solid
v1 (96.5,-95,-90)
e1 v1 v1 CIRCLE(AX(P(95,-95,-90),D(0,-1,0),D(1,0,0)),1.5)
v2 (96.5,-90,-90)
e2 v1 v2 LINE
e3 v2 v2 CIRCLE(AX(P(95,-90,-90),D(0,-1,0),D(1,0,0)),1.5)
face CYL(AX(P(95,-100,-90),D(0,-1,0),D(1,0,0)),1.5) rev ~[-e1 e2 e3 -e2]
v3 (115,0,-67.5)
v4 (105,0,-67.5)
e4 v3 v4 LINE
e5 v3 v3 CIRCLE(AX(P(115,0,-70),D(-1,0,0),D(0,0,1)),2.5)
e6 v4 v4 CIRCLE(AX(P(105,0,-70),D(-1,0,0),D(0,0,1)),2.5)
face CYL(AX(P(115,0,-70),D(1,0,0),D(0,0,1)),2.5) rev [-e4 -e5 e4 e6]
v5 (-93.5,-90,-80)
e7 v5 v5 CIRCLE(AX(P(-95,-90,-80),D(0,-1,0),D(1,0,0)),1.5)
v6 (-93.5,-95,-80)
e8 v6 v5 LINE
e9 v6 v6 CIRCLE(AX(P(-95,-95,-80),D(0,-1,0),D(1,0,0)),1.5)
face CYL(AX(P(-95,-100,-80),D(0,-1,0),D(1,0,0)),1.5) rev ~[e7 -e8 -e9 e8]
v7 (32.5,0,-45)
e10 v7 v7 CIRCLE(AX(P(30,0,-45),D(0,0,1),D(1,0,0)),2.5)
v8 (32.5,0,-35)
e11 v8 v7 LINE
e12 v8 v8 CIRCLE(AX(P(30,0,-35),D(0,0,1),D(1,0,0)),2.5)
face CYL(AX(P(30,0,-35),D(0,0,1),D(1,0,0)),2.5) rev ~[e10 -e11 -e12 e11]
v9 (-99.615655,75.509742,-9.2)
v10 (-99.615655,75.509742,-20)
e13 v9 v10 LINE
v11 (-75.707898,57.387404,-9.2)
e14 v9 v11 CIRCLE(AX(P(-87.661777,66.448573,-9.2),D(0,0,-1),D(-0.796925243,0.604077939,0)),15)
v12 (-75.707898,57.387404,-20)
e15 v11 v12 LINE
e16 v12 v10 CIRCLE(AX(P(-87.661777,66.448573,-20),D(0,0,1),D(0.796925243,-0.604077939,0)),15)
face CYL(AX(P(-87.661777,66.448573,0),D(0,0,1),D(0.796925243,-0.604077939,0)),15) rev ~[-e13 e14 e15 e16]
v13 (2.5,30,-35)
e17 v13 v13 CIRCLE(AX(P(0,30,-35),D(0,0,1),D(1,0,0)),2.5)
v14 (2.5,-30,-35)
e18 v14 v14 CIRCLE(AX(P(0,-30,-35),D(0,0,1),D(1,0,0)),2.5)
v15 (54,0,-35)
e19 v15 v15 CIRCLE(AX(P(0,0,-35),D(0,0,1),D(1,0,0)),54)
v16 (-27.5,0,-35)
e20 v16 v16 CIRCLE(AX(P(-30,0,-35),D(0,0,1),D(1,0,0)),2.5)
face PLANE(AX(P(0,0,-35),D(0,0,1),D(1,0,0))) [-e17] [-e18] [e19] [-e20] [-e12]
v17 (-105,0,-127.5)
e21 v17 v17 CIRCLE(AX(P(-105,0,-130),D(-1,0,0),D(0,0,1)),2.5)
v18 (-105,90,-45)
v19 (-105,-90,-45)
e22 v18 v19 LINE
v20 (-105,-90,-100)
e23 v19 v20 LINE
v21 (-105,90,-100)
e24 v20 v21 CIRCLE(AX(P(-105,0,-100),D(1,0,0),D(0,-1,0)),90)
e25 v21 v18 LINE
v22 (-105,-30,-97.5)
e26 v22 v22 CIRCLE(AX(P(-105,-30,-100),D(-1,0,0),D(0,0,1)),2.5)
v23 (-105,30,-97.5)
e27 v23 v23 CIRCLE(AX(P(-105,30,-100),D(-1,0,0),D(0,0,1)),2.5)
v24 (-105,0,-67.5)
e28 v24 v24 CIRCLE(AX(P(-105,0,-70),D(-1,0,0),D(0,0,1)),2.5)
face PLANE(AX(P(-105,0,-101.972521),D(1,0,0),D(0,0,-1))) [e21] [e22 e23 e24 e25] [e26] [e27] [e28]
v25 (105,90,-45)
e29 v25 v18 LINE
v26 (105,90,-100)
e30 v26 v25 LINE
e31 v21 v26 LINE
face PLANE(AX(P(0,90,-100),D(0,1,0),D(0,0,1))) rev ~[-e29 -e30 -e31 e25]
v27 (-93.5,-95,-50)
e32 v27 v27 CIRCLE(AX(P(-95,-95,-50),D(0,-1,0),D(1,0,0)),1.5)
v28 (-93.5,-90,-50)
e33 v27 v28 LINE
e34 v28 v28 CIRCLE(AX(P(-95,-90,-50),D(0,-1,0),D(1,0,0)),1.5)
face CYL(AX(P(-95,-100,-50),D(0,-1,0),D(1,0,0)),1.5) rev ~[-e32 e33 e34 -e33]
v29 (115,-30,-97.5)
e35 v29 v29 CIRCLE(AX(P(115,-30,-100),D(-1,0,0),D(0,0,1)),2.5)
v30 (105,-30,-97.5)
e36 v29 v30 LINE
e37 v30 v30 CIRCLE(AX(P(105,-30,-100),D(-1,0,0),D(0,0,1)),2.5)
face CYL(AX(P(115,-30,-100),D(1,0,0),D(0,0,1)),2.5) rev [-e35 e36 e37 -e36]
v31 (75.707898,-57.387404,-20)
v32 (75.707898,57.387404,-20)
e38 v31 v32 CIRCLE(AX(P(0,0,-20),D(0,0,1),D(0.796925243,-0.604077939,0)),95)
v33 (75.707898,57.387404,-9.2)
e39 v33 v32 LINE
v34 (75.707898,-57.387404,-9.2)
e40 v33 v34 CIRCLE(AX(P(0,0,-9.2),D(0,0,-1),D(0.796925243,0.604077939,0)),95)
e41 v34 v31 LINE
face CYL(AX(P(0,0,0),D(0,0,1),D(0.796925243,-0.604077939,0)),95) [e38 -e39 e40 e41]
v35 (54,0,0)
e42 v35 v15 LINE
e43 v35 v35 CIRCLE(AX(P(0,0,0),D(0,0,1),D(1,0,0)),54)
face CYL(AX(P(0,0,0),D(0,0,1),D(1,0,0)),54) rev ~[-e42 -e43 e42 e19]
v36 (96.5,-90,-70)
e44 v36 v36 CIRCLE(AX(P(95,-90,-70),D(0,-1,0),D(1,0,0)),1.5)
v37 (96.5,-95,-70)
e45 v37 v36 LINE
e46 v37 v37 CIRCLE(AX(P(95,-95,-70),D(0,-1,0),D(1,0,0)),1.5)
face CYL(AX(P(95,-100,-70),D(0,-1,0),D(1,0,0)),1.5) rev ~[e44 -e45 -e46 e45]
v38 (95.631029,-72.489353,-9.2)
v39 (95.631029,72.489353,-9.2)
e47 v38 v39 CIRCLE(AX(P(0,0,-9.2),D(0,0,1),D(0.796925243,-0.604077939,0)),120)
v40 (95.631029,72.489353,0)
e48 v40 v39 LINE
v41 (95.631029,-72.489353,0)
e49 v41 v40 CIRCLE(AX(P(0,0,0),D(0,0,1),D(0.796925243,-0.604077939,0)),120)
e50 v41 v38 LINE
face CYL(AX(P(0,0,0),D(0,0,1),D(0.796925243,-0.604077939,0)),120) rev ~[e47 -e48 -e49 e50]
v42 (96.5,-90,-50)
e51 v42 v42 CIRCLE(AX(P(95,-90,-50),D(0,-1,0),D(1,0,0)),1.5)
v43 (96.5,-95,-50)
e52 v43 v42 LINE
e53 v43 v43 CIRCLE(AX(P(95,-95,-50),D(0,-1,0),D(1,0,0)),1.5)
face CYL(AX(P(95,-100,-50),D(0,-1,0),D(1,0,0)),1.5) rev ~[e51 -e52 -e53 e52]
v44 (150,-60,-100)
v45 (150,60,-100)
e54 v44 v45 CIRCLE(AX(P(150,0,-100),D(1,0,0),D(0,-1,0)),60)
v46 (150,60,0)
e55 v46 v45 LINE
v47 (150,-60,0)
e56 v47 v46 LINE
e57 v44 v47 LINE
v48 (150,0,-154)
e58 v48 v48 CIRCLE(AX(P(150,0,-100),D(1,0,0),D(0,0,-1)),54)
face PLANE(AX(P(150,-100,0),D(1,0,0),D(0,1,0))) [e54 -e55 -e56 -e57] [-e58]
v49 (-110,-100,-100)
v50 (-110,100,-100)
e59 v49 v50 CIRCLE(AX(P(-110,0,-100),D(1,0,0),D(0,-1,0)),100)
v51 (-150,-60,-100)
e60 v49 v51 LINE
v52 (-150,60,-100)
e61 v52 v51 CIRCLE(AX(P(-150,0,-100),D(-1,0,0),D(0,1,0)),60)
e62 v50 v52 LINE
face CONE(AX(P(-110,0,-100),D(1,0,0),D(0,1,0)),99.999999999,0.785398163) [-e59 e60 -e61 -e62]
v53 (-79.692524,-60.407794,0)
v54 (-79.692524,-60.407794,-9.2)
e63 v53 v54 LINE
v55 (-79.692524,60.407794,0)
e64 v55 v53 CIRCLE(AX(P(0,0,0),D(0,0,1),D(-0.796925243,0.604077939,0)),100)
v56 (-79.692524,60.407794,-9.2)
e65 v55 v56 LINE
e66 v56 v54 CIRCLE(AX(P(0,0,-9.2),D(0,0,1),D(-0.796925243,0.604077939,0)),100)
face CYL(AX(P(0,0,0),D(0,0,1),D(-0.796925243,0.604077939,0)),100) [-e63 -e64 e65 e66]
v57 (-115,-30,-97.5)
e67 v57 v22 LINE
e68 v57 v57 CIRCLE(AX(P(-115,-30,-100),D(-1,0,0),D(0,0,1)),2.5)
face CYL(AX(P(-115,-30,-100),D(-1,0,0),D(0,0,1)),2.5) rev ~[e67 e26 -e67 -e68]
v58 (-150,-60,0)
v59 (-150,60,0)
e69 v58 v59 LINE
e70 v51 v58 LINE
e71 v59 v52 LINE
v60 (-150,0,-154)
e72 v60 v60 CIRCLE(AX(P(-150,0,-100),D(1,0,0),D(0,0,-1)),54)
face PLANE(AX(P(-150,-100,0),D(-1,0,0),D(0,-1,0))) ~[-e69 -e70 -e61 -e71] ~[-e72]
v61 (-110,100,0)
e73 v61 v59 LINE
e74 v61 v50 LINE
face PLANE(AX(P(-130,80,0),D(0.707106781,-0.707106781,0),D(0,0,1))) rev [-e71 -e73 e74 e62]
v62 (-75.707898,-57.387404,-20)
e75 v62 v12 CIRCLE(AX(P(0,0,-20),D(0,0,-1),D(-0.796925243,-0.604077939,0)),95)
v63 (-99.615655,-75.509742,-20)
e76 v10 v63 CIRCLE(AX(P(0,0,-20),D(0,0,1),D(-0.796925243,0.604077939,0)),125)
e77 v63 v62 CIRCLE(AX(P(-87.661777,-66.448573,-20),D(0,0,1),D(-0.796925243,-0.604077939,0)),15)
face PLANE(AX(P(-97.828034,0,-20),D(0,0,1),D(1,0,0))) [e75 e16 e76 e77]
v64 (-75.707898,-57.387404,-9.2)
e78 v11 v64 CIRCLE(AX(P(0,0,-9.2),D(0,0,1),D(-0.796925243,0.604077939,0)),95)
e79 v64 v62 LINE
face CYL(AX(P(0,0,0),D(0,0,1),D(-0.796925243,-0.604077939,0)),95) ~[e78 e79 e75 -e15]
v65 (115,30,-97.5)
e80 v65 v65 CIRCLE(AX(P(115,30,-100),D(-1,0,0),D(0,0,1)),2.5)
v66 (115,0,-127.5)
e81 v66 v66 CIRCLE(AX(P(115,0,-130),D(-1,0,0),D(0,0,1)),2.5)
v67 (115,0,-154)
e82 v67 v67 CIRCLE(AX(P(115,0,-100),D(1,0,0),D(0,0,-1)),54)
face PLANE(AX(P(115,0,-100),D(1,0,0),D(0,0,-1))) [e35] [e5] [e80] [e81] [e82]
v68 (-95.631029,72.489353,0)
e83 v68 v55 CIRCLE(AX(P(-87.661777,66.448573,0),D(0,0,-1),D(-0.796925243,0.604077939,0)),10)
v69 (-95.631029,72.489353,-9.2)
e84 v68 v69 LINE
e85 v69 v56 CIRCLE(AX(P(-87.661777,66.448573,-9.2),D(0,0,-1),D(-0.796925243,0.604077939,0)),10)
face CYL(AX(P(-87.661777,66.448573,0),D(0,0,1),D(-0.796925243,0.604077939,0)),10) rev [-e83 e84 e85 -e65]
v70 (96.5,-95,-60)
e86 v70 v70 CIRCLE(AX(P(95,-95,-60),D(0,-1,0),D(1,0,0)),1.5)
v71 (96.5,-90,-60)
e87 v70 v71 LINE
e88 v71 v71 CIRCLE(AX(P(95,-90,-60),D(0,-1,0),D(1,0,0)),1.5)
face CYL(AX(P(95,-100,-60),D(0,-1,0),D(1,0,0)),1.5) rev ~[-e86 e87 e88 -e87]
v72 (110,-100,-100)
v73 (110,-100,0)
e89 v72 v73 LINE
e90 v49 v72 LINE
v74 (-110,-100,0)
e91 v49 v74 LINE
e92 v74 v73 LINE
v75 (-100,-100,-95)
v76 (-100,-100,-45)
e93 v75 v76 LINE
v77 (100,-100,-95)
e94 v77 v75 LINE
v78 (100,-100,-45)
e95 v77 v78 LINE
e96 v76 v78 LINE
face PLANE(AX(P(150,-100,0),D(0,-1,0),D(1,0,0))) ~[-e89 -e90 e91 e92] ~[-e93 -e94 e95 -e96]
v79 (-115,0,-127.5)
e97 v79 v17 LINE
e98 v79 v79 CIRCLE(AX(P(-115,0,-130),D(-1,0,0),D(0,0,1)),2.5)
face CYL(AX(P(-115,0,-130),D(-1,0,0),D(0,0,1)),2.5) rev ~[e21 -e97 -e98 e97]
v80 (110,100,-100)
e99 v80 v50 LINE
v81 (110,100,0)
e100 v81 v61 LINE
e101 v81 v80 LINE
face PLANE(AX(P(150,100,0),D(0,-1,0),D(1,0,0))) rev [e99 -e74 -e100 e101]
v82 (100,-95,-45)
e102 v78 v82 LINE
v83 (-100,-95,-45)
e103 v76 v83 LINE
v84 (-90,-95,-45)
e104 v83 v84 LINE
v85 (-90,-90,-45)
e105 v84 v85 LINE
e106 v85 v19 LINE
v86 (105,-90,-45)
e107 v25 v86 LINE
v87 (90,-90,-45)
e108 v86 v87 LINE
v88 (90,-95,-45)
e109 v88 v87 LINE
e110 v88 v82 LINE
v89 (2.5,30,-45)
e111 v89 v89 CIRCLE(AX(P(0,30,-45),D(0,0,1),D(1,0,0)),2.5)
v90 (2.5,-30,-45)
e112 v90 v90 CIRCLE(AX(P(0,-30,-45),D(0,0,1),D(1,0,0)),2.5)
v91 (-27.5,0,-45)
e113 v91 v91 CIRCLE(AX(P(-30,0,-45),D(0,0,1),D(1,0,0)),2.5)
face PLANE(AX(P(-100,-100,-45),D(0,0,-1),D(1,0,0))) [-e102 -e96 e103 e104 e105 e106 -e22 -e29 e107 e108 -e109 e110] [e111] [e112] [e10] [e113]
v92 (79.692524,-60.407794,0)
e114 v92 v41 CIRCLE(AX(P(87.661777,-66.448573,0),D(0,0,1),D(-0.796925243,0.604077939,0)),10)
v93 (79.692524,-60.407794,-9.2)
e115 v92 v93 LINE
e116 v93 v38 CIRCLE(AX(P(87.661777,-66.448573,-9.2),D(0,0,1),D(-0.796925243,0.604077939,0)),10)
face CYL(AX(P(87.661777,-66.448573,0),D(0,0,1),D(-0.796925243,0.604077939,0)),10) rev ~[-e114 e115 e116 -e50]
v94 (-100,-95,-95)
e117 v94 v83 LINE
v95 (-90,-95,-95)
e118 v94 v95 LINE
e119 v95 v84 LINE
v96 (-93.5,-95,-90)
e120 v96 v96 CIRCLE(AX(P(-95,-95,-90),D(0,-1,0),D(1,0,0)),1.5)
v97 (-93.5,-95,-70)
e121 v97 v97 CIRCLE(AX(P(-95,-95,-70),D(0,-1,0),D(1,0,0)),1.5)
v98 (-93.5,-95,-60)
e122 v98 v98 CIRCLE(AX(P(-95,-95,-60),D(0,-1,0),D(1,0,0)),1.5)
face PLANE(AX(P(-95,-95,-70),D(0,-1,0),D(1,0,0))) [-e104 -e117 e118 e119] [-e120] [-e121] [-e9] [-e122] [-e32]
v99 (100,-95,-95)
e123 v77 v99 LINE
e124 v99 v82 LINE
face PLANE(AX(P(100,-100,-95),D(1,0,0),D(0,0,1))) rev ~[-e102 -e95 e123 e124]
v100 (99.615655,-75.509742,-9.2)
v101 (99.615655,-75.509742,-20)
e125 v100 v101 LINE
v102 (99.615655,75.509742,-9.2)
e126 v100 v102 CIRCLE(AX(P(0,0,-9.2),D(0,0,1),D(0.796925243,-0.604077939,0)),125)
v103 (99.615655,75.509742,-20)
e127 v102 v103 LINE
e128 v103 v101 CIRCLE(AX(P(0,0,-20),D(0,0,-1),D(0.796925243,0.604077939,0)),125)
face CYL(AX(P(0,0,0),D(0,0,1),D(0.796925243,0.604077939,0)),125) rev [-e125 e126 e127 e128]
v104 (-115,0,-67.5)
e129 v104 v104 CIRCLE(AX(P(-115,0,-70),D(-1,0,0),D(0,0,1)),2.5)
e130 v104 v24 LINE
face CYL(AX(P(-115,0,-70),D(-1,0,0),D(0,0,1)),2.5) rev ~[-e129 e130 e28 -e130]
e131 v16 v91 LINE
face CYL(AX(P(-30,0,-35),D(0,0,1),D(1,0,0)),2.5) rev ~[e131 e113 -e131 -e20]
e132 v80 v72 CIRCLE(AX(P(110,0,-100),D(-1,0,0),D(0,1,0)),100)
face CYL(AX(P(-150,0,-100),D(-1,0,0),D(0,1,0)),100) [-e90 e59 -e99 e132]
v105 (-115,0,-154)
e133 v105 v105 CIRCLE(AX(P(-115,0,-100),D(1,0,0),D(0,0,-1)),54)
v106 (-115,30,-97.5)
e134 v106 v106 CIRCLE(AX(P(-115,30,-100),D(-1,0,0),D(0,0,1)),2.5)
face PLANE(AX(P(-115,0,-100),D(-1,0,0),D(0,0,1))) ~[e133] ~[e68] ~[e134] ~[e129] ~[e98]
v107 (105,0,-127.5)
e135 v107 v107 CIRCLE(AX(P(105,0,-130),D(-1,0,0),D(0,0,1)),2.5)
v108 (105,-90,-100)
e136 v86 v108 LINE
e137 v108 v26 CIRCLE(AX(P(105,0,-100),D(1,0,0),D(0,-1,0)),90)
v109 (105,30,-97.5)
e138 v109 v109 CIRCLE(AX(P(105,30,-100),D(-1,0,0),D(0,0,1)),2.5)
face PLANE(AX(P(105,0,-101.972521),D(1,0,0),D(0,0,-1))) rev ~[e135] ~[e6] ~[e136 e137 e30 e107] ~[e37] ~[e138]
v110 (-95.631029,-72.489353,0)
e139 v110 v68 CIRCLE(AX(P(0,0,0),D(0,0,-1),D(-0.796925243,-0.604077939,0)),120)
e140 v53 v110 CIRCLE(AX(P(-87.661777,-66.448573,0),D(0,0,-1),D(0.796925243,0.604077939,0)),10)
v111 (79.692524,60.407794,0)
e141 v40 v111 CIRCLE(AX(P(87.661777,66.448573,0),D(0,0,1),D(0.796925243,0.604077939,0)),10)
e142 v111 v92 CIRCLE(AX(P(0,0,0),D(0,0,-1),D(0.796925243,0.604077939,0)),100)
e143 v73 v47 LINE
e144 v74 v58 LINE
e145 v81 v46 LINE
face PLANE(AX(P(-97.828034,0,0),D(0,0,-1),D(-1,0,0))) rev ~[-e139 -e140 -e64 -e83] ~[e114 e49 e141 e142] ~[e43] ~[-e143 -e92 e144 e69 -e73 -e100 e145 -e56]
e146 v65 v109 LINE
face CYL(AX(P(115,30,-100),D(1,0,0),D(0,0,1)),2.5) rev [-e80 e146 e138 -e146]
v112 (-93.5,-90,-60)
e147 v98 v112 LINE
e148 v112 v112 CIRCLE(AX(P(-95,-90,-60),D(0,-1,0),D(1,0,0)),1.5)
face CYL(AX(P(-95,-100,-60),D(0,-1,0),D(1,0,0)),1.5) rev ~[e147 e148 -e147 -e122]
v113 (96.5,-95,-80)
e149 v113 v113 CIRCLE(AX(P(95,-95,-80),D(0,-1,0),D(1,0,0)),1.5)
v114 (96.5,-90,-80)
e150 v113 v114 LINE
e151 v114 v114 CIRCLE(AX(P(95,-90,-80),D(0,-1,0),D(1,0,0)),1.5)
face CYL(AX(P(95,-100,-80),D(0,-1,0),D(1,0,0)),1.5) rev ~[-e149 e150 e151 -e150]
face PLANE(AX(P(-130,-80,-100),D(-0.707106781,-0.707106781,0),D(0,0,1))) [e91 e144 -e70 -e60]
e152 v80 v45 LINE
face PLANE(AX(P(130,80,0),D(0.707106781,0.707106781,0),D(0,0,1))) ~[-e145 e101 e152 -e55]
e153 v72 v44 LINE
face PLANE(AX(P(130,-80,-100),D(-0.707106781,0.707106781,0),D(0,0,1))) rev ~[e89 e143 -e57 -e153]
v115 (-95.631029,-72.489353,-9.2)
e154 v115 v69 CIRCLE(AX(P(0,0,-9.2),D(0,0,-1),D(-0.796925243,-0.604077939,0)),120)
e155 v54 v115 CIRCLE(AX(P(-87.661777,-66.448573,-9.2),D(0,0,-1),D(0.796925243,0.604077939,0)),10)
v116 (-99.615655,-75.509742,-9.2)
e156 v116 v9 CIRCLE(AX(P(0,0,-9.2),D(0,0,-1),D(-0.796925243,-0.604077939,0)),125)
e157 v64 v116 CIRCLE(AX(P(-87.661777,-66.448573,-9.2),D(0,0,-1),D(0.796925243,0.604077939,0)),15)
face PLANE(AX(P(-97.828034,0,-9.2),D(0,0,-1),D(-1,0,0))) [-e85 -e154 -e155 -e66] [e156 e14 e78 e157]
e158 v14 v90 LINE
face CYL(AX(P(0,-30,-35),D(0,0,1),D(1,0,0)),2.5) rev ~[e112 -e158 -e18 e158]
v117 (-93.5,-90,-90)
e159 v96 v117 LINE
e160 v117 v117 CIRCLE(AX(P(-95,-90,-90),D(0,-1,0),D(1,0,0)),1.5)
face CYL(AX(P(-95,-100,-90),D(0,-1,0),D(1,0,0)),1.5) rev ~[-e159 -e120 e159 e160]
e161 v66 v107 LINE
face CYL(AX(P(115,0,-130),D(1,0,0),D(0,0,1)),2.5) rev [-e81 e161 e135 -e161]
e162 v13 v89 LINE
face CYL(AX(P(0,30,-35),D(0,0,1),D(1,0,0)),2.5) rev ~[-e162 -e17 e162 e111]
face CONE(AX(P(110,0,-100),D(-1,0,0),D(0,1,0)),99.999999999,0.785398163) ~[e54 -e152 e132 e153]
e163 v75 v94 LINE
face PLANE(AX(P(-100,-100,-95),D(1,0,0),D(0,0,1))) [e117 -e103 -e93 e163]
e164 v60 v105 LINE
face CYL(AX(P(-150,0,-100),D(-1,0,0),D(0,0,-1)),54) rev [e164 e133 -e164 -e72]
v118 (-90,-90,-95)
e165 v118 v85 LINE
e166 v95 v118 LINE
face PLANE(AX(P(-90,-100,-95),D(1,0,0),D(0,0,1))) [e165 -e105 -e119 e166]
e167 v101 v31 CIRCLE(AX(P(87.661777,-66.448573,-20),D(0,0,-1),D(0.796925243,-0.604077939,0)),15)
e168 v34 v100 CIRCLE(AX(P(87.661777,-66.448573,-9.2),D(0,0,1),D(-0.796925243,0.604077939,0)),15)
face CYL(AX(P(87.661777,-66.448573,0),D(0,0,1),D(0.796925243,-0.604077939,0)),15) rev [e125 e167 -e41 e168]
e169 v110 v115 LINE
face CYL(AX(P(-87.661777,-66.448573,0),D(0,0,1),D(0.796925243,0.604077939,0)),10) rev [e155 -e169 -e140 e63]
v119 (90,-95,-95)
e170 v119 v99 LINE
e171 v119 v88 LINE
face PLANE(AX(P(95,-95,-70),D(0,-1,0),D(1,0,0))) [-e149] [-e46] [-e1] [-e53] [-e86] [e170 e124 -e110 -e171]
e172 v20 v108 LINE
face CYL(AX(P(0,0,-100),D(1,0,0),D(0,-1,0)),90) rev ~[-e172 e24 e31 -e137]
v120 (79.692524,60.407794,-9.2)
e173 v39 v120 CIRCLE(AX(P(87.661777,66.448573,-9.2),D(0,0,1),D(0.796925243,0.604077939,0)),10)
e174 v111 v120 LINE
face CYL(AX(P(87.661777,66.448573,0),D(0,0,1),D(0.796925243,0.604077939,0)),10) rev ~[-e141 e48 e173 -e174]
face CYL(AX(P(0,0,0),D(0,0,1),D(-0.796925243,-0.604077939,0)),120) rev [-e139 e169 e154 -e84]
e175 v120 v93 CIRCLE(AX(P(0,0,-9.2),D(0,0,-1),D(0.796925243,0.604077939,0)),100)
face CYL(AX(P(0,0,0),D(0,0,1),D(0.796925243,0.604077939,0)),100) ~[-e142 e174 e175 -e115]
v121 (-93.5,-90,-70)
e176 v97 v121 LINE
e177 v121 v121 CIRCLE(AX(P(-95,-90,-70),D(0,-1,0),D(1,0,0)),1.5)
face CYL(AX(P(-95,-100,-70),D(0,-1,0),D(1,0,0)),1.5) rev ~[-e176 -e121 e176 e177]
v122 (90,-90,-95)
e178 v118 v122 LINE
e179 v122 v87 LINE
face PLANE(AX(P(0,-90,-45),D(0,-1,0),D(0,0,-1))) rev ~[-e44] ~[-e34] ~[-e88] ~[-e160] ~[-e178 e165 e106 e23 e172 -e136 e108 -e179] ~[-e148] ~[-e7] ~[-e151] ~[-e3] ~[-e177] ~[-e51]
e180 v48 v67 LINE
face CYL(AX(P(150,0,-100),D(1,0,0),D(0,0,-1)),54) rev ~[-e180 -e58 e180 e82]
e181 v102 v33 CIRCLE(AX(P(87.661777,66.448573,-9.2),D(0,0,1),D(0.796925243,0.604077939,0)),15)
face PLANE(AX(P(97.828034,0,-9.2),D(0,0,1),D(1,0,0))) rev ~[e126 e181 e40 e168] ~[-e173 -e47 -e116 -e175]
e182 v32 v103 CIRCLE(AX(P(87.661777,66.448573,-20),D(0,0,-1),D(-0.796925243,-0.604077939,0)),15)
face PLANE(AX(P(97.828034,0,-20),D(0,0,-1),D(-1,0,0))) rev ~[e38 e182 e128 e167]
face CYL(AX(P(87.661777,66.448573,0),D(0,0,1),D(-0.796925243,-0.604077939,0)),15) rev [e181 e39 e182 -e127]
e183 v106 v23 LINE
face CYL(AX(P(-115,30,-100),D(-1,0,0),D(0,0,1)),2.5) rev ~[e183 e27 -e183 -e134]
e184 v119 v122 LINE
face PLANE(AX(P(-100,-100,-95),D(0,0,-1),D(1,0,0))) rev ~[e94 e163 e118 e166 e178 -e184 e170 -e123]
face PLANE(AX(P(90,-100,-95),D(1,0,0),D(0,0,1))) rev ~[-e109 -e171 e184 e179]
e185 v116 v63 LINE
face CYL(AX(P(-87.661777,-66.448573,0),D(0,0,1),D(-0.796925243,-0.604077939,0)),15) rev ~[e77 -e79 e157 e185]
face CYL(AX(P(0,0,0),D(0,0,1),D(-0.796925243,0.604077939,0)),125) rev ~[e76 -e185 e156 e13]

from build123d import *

# Parameters (mm, degrees)
SKETCH1_W           = 300
SKETCH1_H           = 200
BOSS_EXTRUDE1_DEPTH = 200
CUT_EXTRUDE1_DEPTH  = 375.165738677
SKETCH3_R           = 54
CUT_EXTRUDE2_DEPTH  = 35
CUT_EXTRUDE4_START  = -150
CUT_EXTRUDE4_DEPTH  = 150
CUT_EXTRUDE5_DEPTH  = 20
BOSS_EXTRUDE3_DEPTH = 9.2
SKETCH11_R          = 54
CUT_EXTRUDE6_DEPTH  = 35
CHAMFER1_SIZE       = 40
SKETCH13_R          = 2.5
CUT_EXTRUDE7_DEPTH  = 10
SKETCH14_R          = 2.5
CUT_EXTRUDE8_DEPTH  = 10
CUT_EXTRUDE9_DEPTH  = 105
SKETCH16_W          = 180
SKETCH16_H          = 50
CUT_EXTRUDE10_DEPTH = 15
SKETCH17_W          = 10
SKETCH17_H          = 50
CUT_EXTRUDE11_DEPTH = 5
SKETCH17_3_R        = 1.5
CUT_EXTRUDE12_DEPTH = 10


with BuildPart() as part:
    # Sketch1 → Boss-Extrude1 (new body)
    with BuildSketch(Plane.XY):
        Rectangle(SKETCH1_W, SKETCH1_H)
    extrude(amount=-BOSS_EXTRUDE1_DEPTH)

    # Sketch2 → Cut-Extrude1 (cut, through all)
    with BuildSketch(Plane(origin=(150, 0, 0), x_dir=(0, 0, -1), z_dir=(1, 0, 0))):
        with BuildLine():
            Line((200, -100), (200, 1.347e-06))
            ThreePointArc((200, 1.347e-06), (170.710678595, -70.710677643), (100, -100))
            Line((100, -100), (200, -100))
        make_face()
        with BuildLine():
            Line((200, 100), (100, 100))
            ThreePointArc((100, 100), (170.710677643, 70.710678595), (200, 1.347e-06))
            Line((200, 1.347e-06), (200, 100))
        make_face()
    extrude(amount=-CUT_EXTRUDE1_DEPTH, mode=Mode.SUBTRACT)

    # Sketch3 → Cut-Extrude2 (cut)
    with BuildSketch(Plane(origin=(150, 0, 0), x_dir=(0, 0, -1), z_dir=(1, 0, 0))):
        with Locations((100, 0)):
            Circle(SKETCH3_R)
    extrude(amount=-CUT_EXTRUDE2_DEPTH, mode=Mode.SUBTRACT)

    # Sketch6 → Cut-Extrude4 (cut)
    with BuildSketch(Plane.ZY.offset(150).offset(CUT_EXTRUDE4_START)):
        with BuildLine():
            Line((0, 100), (0, -100))
            Line((0, -100), (-100, -100))
            ThreePointArc((-100, -100), (-200, 0), (-100, 100))
            Line((-100, 100), (0, 100))
        make_face()
    extrude(amount=CUT_EXTRUDE4_DEPTH, mode=Mode.SUBTRACT)

    # Mirror1: part across plane


with BuildPart() as part_1:
    add(part.part)
    add(part.part.mirror(Plane(origin=(0, 0, -100), x_dir=(0, 0, 1), z_dir=(1, 0, 0))))

    # Sketch7 → Cut-Extrude5 (cut)
    with BuildSketch(Plane.XY):
        with BuildLine():
            ThreePointArc((-99.615655403, 75.509742408), (-125, 0), (-99.615655403, -75.509742408))
            ThreePointArc((-99.615655403, -75.509742408), (-78.600607666, -78.402451968), (-75.707898107, -57.38740423))
            ThreePointArc((-75.707898107, -57.38740423), (-95, 0), (-75.707898107, 57.38740423))
            ThreePointArc((-75.707898107, 57.38740423), (-78.600607666, 78.402451968), (-99.615655403, 75.509742408))
        make_face()
        with BuildLine():
            ThreePointArc((75.707898107, 57.38740423), (78.600607666, 78.402451968), (99.615655403, 75.509742408))
            ThreePointArc((99.615655403, 75.509742408), (125, 0), (99.615655403, -75.509742408))
            ThreePointArc((99.615655403, -75.509742408), (78.600607666, -78.402451968), (75.707898107, -57.38740423))
            ThreePointArc((75.707898107, -57.38740423), (95, 0), (75.707898107, 57.38740423))
        make_face()
    extrude(amount=-CUT_EXTRUDE5_DEPTH, mode=Mode.SUBTRACT)

    # Sketch10 → Boss-Extrude3 (add)
    # profile 1 of 2: a face of its own
    with BuildSketch(Plane.XY):
        with BuildLine():
            ThreePointArc((-75.707898107, 57.38740423), (-95, 0), (-75.707898107, -57.38740423))
            ThreePointArc((-75.707898107, -57.38740423), (-78.600607666, -78.402451968), (-99.615655403, -75.509742408))
            ThreePointArc((-99.615655403, -75.509742408), (-125, 0), (-99.615655403, 75.509742408))
            ThreePointArc((-99.615655403, 75.509742408), (-78.600607666, 78.402451968), (-75.707898107, 57.38740423))
        make_face()
        with BuildLine():
            ThreePointArc((-79.692524323, 60.407793927), (-100, 0), (-79.692524323, -60.407793927))
            ThreePointArc((-79.692524323, -60.407793927), (-81.620997362, -74.417825752), (-95.631029187, -72.489352712))
            ThreePointArc((-95.631029187, -72.489352712), (-120, 0), (-95.631029187, 72.489352712))
            ThreePointArc((-95.631029187, 72.489352712), (-81.620997362, 74.417825752), (-79.692524323, 60.407793927))
        make_face(mode=Mode.SUBTRACT)
    # profile 2 of 2: a face of its own
    with BuildSketch(Plane.XY):
        with BuildLine():
            ThreePointArc((75.707898107, -57.38740423), (78.600607666, -78.402451968), (99.615655403, -75.509742408))
            ThreePointArc((99.615655403, -75.509742408), (125, 0), (99.615655403, 75.509742408))
            ThreePointArc((99.615655403, 75.509742408), (78.600607666, 78.402451968), (75.707898107, 57.38740423))
            ThreePointArc((75.707898107, 57.38740423), (95, 0), (75.707898107, -57.38740423))
        make_face()
        with BuildLine():
            ThreePointArc((79.692524323, -60.407793927), (81.620997362, -74.417825752), (95.631029187, -72.489352712))
            ThreePointArc((95.631029187, -72.489352712), (120, 0), (95.631029187, 72.489352712))
            ThreePointArc((95.631029187, 72.489352712), (81.620997362, 74.417825752), (79.692524323, 60.407793927))
            ThreePointArc((79.692524323, 60.407793927), (100, 0), (79.692524323, -60.407793927))
        make_face(mode=Mode.SUBTRACT)
    extrude(amount=-BOSS_EXTRUDE3_DEPTH)

    # Sketch11 → Cut-Extrude6 (cut)
    with BuildSketch(Plane.XY):
        Circle(SKETCH11_R)
    extrude(amount=-CUT_EXTRUDE6_DEPTH, mode=Mode.SUBTRACT)

    # Chamfer1
    chamfer1_edges = [part_1.edges().sort_by_distance(p)[0] for p in [
        (-150, 100, -50),
        (-150, 0, -200),
        (-150, -100, -50),
        (150, 100, -50),
        (150, 0, -200),
        (150, -100, -50),
    ]]
    chamfer(chamfer1_edges, length=CHAMFER1_SIZE)

    # Sketch13 → Cut-Extrude7 (cut)
    with BuildSketch(Plane.ZY.offset(115)):
        with Locations((-100, 30)):
            Circle(SKETCH13_R)
        with Locations((-130, 0)):
            Circle(SKETCH13_R)
        with Locations((-100, -30)):
            Circle(SKETCH13_R)
        with Locations((-70, 0)):
            Circle(SKETCH13_R)
    cut_extrude7 = extrude(amount=-CUT_EXTRUDE7_DEPTH, mode=Mode.SUBTRACT)

    # Mirror2: Cut-Extrude7 across plane
    add(cut_extrude7.mirror(Plane(origin=(0, 0, 0), x_dir=(0, 0, 1), z_dir=(1, 0, 0))), mode=Mode.SUBTRACT)

    # Sketch14 → Cut-Extrude8 (cut)
    with BuildSketch(Plane.XY.offset(-35)):
        with Locations((0, 30)):
            Circle(SKETCH14_R)
        with Locations((-30, 0)):
            Circle(SKETCH14_R)
        with Locations((0, -30)):
            Circle(SKETCH14_R)
        with Locations((30, 0)):
            Circle(SKETCH14_R)
    extrude(amount=-CUT_EXTRUDE8_DEPTH, mode=Mode.SUBTRACT)

    # Sketch15 → Cut-Extrude9 (cut, symmetric)
    with BuildSketch(Plane(origin=(0, 0, 0), x_dir=(0, 0, -1), z_dir=(1, 0, 0))):
        with BuildLine():
            Line((45, -90), (100, -90))
            ThreePointArc((100, -90), (190, 0), (100, 90))
            Line((100, 90), (45, 90))
            Line((45, 90), (45, 32.5))
            Line((45, 32.5), (45, 27.5))
            Line((45, 27.5), (45, -90))
        make_face()
    extrude(amount=CUT_EXTRUDE9_DEPTH, both=True, mode=Mode.SUBTRACT)

    # Sketch16 → Cut-Extrude10 (cut)
    with BuildSketch(Plane.XZ.offset(100)):
        with Locations((0, -70)):
            Rectangle(SKETCH16_W, SKETCH16_H)
    extrude(amount=-CUT_EXTRUDE10_DEPTH, mode=Mode.SUBTRACT)

    # Sketch17 → Cut-Extrude11 (cut)
    with BuildSketch(Plane.XZ.offset(100)):
        with Locations((95, -70)):
            Rectangle(SKETCH17_W, SKETCH17_H)
        with Locations((-95, -70)):
            Rectangle(SKETCH17_W, SKETCH17_H)
    extrude(amount=-CUT_EXTRUDE11_DEPTH, mode=Mode.SUBTRACT)

    # Sketch17<3> → Cut-Extrude12 (cut)
    with BuildSketch(Plane.XZ.offset(100)):
        with Locations((-95, -50)):
            Circle(SKETCH17_3_R)
        with Locations((95, -50)):
            Circle(SKETCH17_3_R)
        with Locations((-95, -60)):
            Circle(SKETCH17_3_R)
        with Locations((95, -60)):
            Circle(SKETCH17_3_R)
        with Locations((-95, -70)):
            Circle(SKETCH17_3_R)
        with Locations((95, -70)):
            Circle(SKETCH17_3_R)
        with Locations((-95, -80)):
            Circle(SKETCH17_3_R)
        with Locations((95, -80)):
            Circle(SKETCH17_3_R)
        with Locations((-95, -90)):
            Circle(SKETCH17_3_R)
        with Locations((95, -90)):
            Circle(SKETCH17_3_R)
    extrude(amount=-CUT_EXTRUDE12_DEPTH, mode=Mode.SUBTRACT)


solid = part_1.part
